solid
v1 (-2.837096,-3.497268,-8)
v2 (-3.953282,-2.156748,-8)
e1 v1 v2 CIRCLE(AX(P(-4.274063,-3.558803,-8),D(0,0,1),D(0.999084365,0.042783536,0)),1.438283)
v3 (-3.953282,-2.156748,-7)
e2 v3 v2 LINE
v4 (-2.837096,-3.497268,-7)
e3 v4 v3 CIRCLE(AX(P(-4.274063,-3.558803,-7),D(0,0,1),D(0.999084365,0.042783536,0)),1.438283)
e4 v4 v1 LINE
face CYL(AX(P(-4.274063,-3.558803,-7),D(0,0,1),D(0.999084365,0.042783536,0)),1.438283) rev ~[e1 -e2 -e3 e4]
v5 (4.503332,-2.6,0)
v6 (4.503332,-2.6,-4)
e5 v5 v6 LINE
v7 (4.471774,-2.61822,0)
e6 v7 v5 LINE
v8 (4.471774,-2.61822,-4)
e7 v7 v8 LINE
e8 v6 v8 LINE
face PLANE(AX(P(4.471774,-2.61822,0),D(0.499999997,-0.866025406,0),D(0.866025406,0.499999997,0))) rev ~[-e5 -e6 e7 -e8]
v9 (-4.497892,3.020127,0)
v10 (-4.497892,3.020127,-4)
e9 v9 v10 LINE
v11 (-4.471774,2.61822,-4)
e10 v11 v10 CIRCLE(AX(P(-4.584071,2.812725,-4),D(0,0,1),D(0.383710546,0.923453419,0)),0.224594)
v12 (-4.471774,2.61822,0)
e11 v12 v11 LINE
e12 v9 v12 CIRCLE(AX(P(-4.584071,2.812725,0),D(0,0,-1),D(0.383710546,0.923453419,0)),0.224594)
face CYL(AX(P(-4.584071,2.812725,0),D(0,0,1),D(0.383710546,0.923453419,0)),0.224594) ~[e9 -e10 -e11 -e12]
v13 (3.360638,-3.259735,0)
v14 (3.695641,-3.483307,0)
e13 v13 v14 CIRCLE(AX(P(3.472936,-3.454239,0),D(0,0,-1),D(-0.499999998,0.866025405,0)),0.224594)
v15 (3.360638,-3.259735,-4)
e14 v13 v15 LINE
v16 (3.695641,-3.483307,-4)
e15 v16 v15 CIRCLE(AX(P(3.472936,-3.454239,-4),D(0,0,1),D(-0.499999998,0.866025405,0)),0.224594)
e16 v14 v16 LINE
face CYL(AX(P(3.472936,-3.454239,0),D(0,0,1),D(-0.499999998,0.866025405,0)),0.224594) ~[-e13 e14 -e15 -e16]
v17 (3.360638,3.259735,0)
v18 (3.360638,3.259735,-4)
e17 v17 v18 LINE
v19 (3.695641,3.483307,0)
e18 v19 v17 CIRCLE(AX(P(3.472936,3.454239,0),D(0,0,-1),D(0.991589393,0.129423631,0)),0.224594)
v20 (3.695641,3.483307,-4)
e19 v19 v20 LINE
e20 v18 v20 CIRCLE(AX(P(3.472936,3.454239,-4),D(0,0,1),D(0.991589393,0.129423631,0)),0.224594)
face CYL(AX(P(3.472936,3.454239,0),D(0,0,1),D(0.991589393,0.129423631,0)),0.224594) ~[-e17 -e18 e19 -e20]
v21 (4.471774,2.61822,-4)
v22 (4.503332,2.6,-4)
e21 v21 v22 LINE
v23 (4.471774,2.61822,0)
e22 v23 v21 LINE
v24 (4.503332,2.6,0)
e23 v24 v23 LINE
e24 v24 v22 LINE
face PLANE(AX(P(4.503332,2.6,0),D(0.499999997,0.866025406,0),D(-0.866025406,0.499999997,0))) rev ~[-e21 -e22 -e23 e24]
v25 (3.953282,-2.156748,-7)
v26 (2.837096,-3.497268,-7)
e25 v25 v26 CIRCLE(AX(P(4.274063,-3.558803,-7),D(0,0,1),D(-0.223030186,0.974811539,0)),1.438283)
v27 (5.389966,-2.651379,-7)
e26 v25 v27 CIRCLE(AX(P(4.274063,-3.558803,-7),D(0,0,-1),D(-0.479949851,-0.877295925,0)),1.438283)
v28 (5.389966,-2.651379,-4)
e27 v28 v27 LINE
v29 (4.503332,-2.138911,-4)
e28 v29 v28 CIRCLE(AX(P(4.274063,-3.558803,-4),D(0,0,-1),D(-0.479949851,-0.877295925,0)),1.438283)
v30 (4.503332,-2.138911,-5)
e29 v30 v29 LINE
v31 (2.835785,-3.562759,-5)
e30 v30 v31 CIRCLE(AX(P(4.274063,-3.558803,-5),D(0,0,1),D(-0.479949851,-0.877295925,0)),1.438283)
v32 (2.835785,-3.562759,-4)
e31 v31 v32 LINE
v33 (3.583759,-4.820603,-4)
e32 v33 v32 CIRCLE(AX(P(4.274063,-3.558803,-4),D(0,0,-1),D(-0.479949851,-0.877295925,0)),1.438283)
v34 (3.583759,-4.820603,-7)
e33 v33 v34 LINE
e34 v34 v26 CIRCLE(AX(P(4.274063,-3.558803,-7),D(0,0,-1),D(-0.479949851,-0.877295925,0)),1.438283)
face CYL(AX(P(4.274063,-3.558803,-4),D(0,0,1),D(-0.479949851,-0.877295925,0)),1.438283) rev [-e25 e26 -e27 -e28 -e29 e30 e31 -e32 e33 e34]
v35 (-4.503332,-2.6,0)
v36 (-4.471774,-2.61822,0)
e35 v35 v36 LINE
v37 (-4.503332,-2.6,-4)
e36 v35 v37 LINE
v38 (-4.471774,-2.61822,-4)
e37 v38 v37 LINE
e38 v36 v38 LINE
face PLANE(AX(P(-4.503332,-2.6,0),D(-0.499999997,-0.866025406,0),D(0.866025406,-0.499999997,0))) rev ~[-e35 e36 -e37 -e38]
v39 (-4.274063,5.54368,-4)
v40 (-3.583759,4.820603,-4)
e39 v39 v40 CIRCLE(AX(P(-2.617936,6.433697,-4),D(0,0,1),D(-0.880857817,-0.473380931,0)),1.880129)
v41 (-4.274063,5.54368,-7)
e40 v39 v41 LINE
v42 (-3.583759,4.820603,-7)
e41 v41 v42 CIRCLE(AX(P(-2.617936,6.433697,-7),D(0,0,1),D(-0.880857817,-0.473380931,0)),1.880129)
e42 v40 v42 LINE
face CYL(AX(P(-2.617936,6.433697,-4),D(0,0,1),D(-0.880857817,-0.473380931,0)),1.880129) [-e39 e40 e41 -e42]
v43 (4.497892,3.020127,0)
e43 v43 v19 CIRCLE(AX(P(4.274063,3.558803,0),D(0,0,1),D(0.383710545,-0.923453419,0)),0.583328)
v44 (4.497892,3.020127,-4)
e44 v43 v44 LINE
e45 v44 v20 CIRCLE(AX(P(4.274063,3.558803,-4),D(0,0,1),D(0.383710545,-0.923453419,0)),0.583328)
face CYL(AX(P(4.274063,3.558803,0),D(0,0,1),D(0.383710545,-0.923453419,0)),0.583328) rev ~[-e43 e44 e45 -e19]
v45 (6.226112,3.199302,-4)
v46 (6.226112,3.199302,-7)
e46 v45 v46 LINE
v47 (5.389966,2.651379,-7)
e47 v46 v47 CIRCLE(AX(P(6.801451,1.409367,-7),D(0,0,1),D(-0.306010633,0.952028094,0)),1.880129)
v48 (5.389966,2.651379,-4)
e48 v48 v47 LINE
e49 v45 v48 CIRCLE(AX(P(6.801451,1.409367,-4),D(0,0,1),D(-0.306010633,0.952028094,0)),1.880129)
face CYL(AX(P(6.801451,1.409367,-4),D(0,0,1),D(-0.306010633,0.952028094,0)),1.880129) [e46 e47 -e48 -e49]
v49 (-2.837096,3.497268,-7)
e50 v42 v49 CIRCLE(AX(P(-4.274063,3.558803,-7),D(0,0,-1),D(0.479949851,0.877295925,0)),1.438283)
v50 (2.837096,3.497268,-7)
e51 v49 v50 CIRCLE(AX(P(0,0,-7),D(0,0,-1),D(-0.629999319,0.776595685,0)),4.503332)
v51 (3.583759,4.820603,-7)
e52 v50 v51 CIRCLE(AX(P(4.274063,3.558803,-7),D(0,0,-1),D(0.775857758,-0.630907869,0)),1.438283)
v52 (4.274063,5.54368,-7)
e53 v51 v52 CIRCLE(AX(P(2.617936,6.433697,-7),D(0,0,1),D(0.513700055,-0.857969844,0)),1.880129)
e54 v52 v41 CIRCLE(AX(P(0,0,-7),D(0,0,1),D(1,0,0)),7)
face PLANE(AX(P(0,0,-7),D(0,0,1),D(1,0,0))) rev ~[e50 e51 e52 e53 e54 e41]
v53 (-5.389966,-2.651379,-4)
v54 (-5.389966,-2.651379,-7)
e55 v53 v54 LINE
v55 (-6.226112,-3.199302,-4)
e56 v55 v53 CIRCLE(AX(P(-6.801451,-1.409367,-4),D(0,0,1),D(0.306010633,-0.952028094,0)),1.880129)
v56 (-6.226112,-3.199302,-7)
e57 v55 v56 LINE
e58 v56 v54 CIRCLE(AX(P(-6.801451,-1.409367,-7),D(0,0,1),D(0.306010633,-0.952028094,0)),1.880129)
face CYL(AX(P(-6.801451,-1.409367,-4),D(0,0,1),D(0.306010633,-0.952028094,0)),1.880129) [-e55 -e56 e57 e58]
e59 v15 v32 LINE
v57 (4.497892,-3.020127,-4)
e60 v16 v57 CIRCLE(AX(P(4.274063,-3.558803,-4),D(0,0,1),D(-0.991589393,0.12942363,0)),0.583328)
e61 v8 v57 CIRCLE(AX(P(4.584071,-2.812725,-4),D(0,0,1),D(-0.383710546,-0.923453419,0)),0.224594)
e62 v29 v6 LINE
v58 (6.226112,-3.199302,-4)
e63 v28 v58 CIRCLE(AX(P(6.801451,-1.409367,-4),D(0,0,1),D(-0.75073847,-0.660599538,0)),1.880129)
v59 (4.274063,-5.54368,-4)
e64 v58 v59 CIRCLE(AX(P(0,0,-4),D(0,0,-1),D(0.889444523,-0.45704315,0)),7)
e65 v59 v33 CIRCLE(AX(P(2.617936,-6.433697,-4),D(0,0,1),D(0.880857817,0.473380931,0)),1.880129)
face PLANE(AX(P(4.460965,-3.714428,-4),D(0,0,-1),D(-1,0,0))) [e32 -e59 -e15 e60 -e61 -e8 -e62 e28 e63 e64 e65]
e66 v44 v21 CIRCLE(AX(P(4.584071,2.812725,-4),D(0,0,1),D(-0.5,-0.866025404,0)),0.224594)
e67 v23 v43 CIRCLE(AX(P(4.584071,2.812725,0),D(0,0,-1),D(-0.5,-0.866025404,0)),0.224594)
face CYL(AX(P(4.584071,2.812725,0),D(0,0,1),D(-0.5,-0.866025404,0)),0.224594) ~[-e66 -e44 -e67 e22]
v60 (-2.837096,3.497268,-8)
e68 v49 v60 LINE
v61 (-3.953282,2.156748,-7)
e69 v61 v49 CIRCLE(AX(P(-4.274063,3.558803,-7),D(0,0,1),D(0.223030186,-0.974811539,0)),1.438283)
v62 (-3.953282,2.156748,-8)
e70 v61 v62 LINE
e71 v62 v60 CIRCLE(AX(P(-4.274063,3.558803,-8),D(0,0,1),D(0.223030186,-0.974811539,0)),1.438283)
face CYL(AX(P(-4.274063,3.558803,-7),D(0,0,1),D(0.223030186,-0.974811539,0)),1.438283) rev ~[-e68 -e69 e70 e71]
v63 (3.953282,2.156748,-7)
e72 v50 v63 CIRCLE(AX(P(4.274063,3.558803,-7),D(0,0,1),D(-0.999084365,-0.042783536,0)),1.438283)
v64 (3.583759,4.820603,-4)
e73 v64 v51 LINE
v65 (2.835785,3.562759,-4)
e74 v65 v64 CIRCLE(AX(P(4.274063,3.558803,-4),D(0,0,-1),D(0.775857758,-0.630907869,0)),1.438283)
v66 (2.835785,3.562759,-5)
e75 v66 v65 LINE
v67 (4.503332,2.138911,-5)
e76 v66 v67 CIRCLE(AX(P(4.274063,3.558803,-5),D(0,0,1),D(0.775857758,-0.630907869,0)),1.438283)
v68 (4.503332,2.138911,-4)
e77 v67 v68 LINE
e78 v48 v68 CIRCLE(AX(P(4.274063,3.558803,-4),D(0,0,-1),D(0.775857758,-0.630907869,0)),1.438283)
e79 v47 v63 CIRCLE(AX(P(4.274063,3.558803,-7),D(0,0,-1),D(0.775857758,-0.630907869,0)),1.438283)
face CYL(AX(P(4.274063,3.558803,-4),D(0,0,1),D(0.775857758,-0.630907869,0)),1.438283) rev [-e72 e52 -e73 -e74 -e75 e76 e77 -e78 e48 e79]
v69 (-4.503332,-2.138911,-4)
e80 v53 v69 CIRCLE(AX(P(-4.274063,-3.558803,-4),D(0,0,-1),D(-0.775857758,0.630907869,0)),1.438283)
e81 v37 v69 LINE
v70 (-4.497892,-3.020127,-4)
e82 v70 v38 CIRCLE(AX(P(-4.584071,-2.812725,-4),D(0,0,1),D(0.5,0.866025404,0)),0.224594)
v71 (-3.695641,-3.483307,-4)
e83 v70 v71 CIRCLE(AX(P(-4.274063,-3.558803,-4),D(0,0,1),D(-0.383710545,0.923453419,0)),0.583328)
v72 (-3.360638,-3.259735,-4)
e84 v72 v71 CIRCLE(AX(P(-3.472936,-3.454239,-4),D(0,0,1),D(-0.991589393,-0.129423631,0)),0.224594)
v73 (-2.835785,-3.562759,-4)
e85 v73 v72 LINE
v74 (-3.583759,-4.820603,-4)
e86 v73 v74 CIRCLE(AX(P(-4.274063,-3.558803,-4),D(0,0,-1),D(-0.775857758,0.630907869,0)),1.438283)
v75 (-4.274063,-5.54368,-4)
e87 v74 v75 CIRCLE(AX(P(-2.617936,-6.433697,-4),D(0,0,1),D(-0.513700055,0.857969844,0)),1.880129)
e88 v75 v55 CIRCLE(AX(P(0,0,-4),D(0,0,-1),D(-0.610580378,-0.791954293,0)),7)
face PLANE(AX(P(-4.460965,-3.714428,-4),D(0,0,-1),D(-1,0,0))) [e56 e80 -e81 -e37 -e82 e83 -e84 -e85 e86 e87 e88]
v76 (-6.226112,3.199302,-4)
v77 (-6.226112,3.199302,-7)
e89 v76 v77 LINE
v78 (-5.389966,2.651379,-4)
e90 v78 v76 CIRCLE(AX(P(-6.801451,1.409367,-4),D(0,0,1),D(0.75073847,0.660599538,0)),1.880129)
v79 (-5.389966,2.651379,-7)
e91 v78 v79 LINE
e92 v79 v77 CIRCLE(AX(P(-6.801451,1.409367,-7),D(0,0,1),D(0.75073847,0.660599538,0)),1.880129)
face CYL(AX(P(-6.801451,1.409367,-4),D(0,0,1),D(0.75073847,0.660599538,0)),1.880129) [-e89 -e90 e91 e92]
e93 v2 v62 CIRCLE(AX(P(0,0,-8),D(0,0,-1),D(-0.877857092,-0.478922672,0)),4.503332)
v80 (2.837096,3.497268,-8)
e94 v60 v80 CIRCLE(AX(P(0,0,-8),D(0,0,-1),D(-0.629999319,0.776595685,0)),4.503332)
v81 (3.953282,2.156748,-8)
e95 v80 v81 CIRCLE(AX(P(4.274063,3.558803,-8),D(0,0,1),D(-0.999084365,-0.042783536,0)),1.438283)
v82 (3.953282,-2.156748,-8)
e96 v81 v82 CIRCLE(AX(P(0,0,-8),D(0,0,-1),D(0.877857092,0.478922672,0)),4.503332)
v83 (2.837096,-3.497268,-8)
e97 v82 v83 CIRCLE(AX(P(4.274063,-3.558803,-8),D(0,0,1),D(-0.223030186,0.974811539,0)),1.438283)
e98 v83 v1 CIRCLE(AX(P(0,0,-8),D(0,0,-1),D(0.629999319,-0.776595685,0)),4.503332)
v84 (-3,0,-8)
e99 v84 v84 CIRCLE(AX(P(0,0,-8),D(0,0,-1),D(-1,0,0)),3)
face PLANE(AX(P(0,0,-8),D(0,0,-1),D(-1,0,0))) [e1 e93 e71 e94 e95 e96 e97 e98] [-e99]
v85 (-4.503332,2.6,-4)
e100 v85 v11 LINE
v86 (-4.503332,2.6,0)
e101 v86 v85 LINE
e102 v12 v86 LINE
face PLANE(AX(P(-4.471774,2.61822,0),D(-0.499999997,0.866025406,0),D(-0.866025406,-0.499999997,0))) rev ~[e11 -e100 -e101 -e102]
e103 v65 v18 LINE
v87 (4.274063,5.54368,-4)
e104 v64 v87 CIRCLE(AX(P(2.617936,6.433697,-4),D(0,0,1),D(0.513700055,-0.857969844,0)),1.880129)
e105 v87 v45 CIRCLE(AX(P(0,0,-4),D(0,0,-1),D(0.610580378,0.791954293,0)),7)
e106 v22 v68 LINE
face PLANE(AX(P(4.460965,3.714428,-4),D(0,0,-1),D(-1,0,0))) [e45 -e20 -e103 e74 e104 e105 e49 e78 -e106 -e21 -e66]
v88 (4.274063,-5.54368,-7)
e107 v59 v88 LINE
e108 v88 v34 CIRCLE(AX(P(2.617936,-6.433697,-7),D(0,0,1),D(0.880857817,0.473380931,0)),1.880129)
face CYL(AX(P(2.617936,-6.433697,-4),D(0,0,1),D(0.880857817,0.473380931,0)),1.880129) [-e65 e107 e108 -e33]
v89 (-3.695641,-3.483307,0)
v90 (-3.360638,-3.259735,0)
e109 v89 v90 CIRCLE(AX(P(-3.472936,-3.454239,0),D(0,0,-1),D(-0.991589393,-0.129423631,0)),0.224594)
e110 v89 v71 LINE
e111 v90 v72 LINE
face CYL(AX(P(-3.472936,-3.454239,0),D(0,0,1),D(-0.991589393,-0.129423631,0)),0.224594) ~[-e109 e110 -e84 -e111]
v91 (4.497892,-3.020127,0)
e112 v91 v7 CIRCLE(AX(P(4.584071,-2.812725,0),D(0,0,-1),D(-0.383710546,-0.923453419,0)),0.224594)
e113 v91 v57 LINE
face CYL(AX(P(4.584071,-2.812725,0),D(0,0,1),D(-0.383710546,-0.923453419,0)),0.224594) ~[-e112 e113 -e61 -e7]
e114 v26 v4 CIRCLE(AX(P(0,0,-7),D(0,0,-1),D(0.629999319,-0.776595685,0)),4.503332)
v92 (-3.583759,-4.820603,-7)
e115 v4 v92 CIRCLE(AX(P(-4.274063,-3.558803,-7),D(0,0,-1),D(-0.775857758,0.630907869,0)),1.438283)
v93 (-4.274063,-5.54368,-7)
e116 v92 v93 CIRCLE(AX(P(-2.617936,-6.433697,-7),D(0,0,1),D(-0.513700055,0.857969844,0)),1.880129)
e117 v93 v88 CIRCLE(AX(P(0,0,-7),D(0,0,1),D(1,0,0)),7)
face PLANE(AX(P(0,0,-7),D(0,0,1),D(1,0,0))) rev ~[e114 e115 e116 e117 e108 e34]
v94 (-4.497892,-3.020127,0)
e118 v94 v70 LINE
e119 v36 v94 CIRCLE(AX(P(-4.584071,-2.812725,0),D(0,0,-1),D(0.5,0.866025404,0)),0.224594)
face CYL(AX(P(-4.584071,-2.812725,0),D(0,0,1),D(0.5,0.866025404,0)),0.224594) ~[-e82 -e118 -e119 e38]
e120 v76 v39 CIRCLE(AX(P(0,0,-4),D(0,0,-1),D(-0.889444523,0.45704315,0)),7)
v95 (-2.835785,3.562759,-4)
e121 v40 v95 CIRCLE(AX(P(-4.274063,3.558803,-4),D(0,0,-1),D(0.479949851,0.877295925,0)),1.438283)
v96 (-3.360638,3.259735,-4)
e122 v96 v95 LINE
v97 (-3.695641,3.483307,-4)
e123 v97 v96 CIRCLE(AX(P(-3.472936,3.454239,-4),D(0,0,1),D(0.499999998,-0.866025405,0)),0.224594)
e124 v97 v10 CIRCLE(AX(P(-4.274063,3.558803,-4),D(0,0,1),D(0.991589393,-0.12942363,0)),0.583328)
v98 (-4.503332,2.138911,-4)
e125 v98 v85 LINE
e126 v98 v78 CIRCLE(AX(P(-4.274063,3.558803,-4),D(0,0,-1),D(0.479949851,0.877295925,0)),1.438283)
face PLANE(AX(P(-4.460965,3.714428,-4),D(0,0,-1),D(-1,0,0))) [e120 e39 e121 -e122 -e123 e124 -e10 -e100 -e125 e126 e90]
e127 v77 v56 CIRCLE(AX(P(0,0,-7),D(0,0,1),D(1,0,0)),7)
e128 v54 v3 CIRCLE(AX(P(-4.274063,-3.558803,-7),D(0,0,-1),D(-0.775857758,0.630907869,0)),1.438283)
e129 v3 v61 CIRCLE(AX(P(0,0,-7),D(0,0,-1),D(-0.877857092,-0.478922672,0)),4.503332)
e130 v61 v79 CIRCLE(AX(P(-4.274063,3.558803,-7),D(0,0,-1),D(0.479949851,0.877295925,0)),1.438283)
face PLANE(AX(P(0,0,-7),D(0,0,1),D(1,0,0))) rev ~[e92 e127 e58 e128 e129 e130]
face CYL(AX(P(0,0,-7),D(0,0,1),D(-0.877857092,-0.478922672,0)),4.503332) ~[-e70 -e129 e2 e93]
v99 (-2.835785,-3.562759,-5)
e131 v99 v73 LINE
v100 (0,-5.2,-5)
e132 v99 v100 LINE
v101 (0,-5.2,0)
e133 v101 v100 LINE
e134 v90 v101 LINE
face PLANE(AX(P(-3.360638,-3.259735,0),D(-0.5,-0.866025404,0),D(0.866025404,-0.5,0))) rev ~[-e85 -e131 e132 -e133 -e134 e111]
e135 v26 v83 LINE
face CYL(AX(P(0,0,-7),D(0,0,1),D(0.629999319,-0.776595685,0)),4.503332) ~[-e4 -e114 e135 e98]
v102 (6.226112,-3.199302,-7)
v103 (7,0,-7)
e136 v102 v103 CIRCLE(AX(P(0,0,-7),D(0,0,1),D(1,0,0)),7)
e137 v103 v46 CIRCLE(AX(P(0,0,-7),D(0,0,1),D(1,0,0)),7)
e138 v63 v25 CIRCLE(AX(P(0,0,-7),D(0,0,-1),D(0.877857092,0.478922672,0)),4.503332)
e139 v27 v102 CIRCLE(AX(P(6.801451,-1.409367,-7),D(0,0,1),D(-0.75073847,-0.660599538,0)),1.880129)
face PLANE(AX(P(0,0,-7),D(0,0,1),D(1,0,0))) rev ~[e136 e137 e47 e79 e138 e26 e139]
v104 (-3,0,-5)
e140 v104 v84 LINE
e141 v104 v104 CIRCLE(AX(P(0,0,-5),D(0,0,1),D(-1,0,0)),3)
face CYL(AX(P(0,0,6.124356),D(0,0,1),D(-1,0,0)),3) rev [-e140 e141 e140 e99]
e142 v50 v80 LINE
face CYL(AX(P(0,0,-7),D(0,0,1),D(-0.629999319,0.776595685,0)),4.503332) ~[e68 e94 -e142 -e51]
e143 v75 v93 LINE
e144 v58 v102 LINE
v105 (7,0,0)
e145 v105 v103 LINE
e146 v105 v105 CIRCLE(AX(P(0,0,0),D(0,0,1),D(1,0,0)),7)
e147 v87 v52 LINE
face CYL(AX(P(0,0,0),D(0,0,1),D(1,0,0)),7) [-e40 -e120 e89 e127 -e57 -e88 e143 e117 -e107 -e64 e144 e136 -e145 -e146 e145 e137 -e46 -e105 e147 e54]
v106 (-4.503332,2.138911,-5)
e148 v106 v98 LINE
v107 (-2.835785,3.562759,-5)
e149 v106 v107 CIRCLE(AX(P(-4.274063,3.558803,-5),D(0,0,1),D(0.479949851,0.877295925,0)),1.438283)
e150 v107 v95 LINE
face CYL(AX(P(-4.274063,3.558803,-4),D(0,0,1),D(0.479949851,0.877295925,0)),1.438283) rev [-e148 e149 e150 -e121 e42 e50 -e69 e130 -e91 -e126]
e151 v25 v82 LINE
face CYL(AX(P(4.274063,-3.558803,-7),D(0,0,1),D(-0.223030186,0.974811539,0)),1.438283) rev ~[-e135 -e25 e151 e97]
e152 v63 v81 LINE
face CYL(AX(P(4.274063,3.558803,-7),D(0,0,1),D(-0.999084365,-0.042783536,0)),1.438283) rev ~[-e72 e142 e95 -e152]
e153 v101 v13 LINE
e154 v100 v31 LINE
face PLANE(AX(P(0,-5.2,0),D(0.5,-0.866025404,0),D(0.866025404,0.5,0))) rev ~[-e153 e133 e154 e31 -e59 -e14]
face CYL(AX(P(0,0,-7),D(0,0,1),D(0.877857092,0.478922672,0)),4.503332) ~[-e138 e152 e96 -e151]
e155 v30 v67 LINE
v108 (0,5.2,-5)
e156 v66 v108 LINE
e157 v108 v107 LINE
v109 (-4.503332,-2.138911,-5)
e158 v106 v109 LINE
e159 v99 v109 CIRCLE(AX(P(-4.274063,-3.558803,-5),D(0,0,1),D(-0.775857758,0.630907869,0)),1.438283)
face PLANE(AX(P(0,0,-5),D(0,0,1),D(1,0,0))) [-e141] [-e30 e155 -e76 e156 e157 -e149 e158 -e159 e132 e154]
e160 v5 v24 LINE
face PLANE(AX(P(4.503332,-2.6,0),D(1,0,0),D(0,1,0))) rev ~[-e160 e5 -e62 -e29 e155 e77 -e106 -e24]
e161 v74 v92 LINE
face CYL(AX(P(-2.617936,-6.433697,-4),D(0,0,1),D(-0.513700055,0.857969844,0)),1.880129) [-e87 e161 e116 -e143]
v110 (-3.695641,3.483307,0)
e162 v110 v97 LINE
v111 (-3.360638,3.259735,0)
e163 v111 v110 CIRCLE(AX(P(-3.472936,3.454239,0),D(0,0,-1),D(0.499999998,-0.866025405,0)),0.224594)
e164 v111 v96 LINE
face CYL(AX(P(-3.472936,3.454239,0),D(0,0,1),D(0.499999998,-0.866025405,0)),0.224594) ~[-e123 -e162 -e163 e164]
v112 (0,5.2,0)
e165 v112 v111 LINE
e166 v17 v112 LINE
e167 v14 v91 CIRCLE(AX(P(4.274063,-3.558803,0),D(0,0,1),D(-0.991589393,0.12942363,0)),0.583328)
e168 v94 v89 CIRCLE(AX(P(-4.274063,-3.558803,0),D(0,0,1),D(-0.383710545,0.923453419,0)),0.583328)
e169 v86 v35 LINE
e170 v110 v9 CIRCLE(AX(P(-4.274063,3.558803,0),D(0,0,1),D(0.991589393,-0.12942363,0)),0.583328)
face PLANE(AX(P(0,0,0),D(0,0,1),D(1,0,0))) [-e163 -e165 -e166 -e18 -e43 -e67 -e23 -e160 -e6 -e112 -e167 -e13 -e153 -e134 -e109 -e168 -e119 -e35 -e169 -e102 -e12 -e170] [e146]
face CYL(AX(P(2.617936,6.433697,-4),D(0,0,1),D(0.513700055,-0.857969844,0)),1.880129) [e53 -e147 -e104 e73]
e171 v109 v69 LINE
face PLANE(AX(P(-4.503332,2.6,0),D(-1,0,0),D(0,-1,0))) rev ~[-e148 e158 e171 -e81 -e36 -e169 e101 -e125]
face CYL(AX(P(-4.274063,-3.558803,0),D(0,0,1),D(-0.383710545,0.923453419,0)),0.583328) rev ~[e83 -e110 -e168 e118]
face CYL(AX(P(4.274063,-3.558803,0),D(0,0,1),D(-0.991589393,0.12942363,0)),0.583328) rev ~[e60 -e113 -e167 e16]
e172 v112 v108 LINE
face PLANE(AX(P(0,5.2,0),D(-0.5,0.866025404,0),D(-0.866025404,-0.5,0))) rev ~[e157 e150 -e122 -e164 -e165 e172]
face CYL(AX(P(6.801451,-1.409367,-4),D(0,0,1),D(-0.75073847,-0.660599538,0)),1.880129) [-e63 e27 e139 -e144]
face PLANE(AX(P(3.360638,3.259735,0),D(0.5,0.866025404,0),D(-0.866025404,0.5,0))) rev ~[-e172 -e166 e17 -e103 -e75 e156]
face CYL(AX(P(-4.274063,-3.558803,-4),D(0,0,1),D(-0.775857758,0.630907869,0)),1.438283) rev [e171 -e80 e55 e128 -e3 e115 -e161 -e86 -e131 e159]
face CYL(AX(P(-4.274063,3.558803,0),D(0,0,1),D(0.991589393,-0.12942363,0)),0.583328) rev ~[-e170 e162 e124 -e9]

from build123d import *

# Parameters (mm, degrees)
SKETCH1_R               = 7
BOSS_EXTRUDE1_DEPTH     = 7
SKETCH4_R               = 3
BOSS_EXTRUDE2_DEPTH     = 1
CUT_EXTRUDE4_START      = -3
CUT_EXTRUDE4_DEPTH      = 3
CUT_EXTRUDE5_DEPTH      = 5
CUT_EXTRUDE6_DEPTH      = 5
CUT_EXTRUDE7_DEPTH      = 13.124355653
CUT_EXTRUDE7_DEPTH_BACK = 13.124355653
SKETCH4_4_R             = 3


with BuildPart() as part:
    # Sketch1 → Boss-Extrude1 (new body)
    with BuildSketch(Plane.XY):
        Circle(SKETCH1_R)
    extrude(amount=-BOSS_EXTRUDE1_DEPTH)

    # Sketch4 → Boss-Extrude2 (add)
    with BuildSketch(Plane(origin=(0, 0, -7), x_dir=(-1, 0, 0), z_dir=(0, 0, -1))):
        with BuildLine():
            ThreePointArc((2.837096154, 3.497268279), (0, 4.5033321), (-2.837096154, 3.497268279))
            ThreePointArc((-2.837096154, 3.497268279), (-3.168771964, 2.638481586), (-3.953282021, 2.156747845))
            ThreePointArc((-3.953282021, 2.156747845), (-4.5033321, 0), (-3.953282021, -2.156747845))
            ThreePointArc((-3.953282021, -2.156747845), (-3.168771964, -2.638481586), (-2.837096154, -3.497268279))
            ThreePointArc((-2.837096154, -3.497268279), (0, -4.5033321), (2.837096154, -3.497268279))
            ThreePointArc((2.837096154, -3.497268279), (3.168771964, -2.638481586), (3.953282021, -2.156747845))
            ThreePointArc((3.953282021, -2.156747845), (4.5033321, 0), (3.953282021, 2.156747845))
            ThreePointArc((3.953282021, 2.156747845), (3.168771964, 2.638481586), (2.837096154, 3.497268279))
        make_face()
        Circle(SKETCH4_R, mode=Mode.SUBTRACT)
    extrude(amount=BOSS_EXTRUDE2_DEPTH)

    # Sketch4<3> → Cut-Extrude4 (cut)
    with BuildSketch(Plane(origin=(0, 0, -7), x_dir=(-1, 0, 0), z_dir=(0, 0, -1)).offset(CUT_EXTRUDE4_START)):
        with BuildLine():
            ThreePointArc((4.274062643, 5.543680052), (3.977849472, 5.135421007), (3.583758725, 4.820603323))
            ThreePointArc((3.583758725, 4.820603323), (3.168771964, 2.638481586), (5.389966001, 2.651378794))
            ThreePointArc((5.389966001, 2.651378794), (5.770954662, 2.981931862), (6.226111662, 3.199302046))
            ThreePointArc((6.226111662, 3.199302046), (5.379353322, 4.479124673), (4.274062643, 5.543680052))
        make_face()
        with BuildLine():
            ThreePointArc((-3.583758725, 4.820603323), (-3.977849472, 5.135421007), (-4.274062643, 5.543680052))
            ThreePointArc((-4.274062643, 5.543680052), (-5.379353322, 4.479124673), (-6.226111662, 3.199302046))
            ThreePointArc((-6.226111662, 3.199302046), (-5.770954662, 2.981931862), (-5.389966001, 2.651378794))
            ThreePointArc((-5.389966001, 2.651378794), (-3.168771964, 2.638481586), (-3.583758725, 4.820603323))
        make_face()
        with BuildLine():
            ThreePointArc((3.583758725, -4.820603323), (3.977849472, -5.135421007), (4.274062643, -5.543680052))
            ThreePointArc((4.274062643, -5.543680052), (5.379353322, -4.479124673), (6.226111662, -3.199302046))
            ThreePointArc((6.226111662, -3.199302046), (5.770954662, -2.981931862), (5.389966001, -2.651378794))
            ThreePointArc((5.389966001, -2.651378794), (3.168771964, -2.638481586), (3.583758725, -4.820603323))
        make_face()
        with BuildLine():
            ThreePointArc((-5.389966001, -2.651378794), (-5.770954662, -2.981931862), (-6.226111662, -3.199302046))
            ThreePointArc((-6.226111662, -3.199302046), (-5.379353322, -4.479124673), (-4.274062643, -5.543680052))
            ThreePointArc((-4.274062643, -5.543680052), (-3.977849472, -5.135421007), (-3.583758725, -4.820603323))
            ThreePointArc((-3.583758725, -4.820603323), (-3.168771964, -2.638481586), (-5.389966001, -2.651378794))
        make_face()
    extrude(amount=CUT_EXTRUDE4_DEPTH, mode=Mode.SUBTRACT)

    # Sketch1<5> → Cut-Extrude5 (cut)
    with BuildSketch(Plane.XY):
        Polygon((-3.360638375, -3.259734529), (0, -5.2), (3.360638375, -3.259734529), (4.471773772, -2.618220209), (4.5033321, -2.6), (4.5033321, 2.6), (4.471773772, 2.618220209), (3.360638375, 3.259734529), (0, 5.2), (-3.360638375, 3.259734529), (-4.471773772, 2.618220209), (-4.5033321, 2.6), (-4.5033321, -2.6), (-4.471773772, -2.618220209), align=None)
    extrude(amount=-CUT_EXTRUDE5_DEPTH, mode=Mode.SUBTRACT)

    # Sketch1<6> → Cut-Extrude6 (cut)
    with BuildSketch(Plane.XY):
        with BuildLine():
            Line((4.471773772, -2.618220209), (3.360638375, -3.259734529))
            ThreePointArc((3.360638375, -3.259734529), (3.597609587, -3.267426216), (3.695640854, -3.483306711))
            ThreePointArc((3.695640854, -3.483306711), (4.565726609, -4.063979936), (4.497891721, -3.020126957))
            ThreePointArc((4.497891721, -3.020126957), (4.359949362, -2.827289142), (4.471773772, -2.618220209))
        make_face()
        with BuildLine():
            ThreePointArc((-3.695640854, -3.483306711), (-3.597609587, -3.267426216), (-3.360638375, -3.259734529))
            Line((-3.360638375, -3.259734529), (-4.471773772, -2.618220209))
            ThreePointArc((-4.471773772, -2.618220209), (-4.359949362, -2.827289142), (-4.497891721, -3.020126957))
            ThreePointArc((-4.497891721, -3.020126957), (-4.565726609, -4.063979936), (-3.695640854, -3.483306711))
        make_face()
        with BuildLine():
            Line((3.360638375, 3.259734529), (4.471773772, 2.618220209))
            ThreePointArc((4.471773772, 2.618220209), (4.359949362, 2.827289142), (4.497891721, 3.020126957))
            ThreePointArc((4.497891721, 3.020126957), (4.565726609, 4.063979936), (3.695640854, 3.483306711))
            ThreePointArc((3.695640854, 3.483306711), (3.597609587, 3.267426216), (3.360638375, 3.259734529))
        make_face()
        with BuildLine():
            ThreePointArc((-4.497891721, 3.020126957), (-4.359949362, 2.827289142), (-4.471773772, 2.618220209))
            Line((-4.471773772, 2.618220209), (-3.360638375, 3.259734529))
            ThreePointArc((-3.360638375, 3.259734529), (-3.597609587, 3.267426216), (-3.695640854, 3.483306711))
            ThreePointArc((-3.695640854, 3.483306711), (-4.565726609, 4.063979936), (-4.497891721, 3.020126957))
        make_face()
    extrude(amount=-CUT_EXTRUDE6_DEPTH, mode=Mode.SUBTRACT)

    # Sketch4<4> → Cut-Extrude7 (cut, two sides: drawn at the far end of the back side and taken through both)
    with BuildSketch(Plane(origin=(0, 0, -7), x_dir=(-1, 0, 0), z_dir=(0, 0, -1)).offset(-CUT_EXTRUDE7_DEPTH_BACK)):
        Circle(SKETCH4_4_R)
    extrude(amount=CUT_EXTRUDE7_DEPTH + CUT_EXTRUDE7_DEPTH_BACK, mode=Mode.SUBTRACT)


solid = part.part
